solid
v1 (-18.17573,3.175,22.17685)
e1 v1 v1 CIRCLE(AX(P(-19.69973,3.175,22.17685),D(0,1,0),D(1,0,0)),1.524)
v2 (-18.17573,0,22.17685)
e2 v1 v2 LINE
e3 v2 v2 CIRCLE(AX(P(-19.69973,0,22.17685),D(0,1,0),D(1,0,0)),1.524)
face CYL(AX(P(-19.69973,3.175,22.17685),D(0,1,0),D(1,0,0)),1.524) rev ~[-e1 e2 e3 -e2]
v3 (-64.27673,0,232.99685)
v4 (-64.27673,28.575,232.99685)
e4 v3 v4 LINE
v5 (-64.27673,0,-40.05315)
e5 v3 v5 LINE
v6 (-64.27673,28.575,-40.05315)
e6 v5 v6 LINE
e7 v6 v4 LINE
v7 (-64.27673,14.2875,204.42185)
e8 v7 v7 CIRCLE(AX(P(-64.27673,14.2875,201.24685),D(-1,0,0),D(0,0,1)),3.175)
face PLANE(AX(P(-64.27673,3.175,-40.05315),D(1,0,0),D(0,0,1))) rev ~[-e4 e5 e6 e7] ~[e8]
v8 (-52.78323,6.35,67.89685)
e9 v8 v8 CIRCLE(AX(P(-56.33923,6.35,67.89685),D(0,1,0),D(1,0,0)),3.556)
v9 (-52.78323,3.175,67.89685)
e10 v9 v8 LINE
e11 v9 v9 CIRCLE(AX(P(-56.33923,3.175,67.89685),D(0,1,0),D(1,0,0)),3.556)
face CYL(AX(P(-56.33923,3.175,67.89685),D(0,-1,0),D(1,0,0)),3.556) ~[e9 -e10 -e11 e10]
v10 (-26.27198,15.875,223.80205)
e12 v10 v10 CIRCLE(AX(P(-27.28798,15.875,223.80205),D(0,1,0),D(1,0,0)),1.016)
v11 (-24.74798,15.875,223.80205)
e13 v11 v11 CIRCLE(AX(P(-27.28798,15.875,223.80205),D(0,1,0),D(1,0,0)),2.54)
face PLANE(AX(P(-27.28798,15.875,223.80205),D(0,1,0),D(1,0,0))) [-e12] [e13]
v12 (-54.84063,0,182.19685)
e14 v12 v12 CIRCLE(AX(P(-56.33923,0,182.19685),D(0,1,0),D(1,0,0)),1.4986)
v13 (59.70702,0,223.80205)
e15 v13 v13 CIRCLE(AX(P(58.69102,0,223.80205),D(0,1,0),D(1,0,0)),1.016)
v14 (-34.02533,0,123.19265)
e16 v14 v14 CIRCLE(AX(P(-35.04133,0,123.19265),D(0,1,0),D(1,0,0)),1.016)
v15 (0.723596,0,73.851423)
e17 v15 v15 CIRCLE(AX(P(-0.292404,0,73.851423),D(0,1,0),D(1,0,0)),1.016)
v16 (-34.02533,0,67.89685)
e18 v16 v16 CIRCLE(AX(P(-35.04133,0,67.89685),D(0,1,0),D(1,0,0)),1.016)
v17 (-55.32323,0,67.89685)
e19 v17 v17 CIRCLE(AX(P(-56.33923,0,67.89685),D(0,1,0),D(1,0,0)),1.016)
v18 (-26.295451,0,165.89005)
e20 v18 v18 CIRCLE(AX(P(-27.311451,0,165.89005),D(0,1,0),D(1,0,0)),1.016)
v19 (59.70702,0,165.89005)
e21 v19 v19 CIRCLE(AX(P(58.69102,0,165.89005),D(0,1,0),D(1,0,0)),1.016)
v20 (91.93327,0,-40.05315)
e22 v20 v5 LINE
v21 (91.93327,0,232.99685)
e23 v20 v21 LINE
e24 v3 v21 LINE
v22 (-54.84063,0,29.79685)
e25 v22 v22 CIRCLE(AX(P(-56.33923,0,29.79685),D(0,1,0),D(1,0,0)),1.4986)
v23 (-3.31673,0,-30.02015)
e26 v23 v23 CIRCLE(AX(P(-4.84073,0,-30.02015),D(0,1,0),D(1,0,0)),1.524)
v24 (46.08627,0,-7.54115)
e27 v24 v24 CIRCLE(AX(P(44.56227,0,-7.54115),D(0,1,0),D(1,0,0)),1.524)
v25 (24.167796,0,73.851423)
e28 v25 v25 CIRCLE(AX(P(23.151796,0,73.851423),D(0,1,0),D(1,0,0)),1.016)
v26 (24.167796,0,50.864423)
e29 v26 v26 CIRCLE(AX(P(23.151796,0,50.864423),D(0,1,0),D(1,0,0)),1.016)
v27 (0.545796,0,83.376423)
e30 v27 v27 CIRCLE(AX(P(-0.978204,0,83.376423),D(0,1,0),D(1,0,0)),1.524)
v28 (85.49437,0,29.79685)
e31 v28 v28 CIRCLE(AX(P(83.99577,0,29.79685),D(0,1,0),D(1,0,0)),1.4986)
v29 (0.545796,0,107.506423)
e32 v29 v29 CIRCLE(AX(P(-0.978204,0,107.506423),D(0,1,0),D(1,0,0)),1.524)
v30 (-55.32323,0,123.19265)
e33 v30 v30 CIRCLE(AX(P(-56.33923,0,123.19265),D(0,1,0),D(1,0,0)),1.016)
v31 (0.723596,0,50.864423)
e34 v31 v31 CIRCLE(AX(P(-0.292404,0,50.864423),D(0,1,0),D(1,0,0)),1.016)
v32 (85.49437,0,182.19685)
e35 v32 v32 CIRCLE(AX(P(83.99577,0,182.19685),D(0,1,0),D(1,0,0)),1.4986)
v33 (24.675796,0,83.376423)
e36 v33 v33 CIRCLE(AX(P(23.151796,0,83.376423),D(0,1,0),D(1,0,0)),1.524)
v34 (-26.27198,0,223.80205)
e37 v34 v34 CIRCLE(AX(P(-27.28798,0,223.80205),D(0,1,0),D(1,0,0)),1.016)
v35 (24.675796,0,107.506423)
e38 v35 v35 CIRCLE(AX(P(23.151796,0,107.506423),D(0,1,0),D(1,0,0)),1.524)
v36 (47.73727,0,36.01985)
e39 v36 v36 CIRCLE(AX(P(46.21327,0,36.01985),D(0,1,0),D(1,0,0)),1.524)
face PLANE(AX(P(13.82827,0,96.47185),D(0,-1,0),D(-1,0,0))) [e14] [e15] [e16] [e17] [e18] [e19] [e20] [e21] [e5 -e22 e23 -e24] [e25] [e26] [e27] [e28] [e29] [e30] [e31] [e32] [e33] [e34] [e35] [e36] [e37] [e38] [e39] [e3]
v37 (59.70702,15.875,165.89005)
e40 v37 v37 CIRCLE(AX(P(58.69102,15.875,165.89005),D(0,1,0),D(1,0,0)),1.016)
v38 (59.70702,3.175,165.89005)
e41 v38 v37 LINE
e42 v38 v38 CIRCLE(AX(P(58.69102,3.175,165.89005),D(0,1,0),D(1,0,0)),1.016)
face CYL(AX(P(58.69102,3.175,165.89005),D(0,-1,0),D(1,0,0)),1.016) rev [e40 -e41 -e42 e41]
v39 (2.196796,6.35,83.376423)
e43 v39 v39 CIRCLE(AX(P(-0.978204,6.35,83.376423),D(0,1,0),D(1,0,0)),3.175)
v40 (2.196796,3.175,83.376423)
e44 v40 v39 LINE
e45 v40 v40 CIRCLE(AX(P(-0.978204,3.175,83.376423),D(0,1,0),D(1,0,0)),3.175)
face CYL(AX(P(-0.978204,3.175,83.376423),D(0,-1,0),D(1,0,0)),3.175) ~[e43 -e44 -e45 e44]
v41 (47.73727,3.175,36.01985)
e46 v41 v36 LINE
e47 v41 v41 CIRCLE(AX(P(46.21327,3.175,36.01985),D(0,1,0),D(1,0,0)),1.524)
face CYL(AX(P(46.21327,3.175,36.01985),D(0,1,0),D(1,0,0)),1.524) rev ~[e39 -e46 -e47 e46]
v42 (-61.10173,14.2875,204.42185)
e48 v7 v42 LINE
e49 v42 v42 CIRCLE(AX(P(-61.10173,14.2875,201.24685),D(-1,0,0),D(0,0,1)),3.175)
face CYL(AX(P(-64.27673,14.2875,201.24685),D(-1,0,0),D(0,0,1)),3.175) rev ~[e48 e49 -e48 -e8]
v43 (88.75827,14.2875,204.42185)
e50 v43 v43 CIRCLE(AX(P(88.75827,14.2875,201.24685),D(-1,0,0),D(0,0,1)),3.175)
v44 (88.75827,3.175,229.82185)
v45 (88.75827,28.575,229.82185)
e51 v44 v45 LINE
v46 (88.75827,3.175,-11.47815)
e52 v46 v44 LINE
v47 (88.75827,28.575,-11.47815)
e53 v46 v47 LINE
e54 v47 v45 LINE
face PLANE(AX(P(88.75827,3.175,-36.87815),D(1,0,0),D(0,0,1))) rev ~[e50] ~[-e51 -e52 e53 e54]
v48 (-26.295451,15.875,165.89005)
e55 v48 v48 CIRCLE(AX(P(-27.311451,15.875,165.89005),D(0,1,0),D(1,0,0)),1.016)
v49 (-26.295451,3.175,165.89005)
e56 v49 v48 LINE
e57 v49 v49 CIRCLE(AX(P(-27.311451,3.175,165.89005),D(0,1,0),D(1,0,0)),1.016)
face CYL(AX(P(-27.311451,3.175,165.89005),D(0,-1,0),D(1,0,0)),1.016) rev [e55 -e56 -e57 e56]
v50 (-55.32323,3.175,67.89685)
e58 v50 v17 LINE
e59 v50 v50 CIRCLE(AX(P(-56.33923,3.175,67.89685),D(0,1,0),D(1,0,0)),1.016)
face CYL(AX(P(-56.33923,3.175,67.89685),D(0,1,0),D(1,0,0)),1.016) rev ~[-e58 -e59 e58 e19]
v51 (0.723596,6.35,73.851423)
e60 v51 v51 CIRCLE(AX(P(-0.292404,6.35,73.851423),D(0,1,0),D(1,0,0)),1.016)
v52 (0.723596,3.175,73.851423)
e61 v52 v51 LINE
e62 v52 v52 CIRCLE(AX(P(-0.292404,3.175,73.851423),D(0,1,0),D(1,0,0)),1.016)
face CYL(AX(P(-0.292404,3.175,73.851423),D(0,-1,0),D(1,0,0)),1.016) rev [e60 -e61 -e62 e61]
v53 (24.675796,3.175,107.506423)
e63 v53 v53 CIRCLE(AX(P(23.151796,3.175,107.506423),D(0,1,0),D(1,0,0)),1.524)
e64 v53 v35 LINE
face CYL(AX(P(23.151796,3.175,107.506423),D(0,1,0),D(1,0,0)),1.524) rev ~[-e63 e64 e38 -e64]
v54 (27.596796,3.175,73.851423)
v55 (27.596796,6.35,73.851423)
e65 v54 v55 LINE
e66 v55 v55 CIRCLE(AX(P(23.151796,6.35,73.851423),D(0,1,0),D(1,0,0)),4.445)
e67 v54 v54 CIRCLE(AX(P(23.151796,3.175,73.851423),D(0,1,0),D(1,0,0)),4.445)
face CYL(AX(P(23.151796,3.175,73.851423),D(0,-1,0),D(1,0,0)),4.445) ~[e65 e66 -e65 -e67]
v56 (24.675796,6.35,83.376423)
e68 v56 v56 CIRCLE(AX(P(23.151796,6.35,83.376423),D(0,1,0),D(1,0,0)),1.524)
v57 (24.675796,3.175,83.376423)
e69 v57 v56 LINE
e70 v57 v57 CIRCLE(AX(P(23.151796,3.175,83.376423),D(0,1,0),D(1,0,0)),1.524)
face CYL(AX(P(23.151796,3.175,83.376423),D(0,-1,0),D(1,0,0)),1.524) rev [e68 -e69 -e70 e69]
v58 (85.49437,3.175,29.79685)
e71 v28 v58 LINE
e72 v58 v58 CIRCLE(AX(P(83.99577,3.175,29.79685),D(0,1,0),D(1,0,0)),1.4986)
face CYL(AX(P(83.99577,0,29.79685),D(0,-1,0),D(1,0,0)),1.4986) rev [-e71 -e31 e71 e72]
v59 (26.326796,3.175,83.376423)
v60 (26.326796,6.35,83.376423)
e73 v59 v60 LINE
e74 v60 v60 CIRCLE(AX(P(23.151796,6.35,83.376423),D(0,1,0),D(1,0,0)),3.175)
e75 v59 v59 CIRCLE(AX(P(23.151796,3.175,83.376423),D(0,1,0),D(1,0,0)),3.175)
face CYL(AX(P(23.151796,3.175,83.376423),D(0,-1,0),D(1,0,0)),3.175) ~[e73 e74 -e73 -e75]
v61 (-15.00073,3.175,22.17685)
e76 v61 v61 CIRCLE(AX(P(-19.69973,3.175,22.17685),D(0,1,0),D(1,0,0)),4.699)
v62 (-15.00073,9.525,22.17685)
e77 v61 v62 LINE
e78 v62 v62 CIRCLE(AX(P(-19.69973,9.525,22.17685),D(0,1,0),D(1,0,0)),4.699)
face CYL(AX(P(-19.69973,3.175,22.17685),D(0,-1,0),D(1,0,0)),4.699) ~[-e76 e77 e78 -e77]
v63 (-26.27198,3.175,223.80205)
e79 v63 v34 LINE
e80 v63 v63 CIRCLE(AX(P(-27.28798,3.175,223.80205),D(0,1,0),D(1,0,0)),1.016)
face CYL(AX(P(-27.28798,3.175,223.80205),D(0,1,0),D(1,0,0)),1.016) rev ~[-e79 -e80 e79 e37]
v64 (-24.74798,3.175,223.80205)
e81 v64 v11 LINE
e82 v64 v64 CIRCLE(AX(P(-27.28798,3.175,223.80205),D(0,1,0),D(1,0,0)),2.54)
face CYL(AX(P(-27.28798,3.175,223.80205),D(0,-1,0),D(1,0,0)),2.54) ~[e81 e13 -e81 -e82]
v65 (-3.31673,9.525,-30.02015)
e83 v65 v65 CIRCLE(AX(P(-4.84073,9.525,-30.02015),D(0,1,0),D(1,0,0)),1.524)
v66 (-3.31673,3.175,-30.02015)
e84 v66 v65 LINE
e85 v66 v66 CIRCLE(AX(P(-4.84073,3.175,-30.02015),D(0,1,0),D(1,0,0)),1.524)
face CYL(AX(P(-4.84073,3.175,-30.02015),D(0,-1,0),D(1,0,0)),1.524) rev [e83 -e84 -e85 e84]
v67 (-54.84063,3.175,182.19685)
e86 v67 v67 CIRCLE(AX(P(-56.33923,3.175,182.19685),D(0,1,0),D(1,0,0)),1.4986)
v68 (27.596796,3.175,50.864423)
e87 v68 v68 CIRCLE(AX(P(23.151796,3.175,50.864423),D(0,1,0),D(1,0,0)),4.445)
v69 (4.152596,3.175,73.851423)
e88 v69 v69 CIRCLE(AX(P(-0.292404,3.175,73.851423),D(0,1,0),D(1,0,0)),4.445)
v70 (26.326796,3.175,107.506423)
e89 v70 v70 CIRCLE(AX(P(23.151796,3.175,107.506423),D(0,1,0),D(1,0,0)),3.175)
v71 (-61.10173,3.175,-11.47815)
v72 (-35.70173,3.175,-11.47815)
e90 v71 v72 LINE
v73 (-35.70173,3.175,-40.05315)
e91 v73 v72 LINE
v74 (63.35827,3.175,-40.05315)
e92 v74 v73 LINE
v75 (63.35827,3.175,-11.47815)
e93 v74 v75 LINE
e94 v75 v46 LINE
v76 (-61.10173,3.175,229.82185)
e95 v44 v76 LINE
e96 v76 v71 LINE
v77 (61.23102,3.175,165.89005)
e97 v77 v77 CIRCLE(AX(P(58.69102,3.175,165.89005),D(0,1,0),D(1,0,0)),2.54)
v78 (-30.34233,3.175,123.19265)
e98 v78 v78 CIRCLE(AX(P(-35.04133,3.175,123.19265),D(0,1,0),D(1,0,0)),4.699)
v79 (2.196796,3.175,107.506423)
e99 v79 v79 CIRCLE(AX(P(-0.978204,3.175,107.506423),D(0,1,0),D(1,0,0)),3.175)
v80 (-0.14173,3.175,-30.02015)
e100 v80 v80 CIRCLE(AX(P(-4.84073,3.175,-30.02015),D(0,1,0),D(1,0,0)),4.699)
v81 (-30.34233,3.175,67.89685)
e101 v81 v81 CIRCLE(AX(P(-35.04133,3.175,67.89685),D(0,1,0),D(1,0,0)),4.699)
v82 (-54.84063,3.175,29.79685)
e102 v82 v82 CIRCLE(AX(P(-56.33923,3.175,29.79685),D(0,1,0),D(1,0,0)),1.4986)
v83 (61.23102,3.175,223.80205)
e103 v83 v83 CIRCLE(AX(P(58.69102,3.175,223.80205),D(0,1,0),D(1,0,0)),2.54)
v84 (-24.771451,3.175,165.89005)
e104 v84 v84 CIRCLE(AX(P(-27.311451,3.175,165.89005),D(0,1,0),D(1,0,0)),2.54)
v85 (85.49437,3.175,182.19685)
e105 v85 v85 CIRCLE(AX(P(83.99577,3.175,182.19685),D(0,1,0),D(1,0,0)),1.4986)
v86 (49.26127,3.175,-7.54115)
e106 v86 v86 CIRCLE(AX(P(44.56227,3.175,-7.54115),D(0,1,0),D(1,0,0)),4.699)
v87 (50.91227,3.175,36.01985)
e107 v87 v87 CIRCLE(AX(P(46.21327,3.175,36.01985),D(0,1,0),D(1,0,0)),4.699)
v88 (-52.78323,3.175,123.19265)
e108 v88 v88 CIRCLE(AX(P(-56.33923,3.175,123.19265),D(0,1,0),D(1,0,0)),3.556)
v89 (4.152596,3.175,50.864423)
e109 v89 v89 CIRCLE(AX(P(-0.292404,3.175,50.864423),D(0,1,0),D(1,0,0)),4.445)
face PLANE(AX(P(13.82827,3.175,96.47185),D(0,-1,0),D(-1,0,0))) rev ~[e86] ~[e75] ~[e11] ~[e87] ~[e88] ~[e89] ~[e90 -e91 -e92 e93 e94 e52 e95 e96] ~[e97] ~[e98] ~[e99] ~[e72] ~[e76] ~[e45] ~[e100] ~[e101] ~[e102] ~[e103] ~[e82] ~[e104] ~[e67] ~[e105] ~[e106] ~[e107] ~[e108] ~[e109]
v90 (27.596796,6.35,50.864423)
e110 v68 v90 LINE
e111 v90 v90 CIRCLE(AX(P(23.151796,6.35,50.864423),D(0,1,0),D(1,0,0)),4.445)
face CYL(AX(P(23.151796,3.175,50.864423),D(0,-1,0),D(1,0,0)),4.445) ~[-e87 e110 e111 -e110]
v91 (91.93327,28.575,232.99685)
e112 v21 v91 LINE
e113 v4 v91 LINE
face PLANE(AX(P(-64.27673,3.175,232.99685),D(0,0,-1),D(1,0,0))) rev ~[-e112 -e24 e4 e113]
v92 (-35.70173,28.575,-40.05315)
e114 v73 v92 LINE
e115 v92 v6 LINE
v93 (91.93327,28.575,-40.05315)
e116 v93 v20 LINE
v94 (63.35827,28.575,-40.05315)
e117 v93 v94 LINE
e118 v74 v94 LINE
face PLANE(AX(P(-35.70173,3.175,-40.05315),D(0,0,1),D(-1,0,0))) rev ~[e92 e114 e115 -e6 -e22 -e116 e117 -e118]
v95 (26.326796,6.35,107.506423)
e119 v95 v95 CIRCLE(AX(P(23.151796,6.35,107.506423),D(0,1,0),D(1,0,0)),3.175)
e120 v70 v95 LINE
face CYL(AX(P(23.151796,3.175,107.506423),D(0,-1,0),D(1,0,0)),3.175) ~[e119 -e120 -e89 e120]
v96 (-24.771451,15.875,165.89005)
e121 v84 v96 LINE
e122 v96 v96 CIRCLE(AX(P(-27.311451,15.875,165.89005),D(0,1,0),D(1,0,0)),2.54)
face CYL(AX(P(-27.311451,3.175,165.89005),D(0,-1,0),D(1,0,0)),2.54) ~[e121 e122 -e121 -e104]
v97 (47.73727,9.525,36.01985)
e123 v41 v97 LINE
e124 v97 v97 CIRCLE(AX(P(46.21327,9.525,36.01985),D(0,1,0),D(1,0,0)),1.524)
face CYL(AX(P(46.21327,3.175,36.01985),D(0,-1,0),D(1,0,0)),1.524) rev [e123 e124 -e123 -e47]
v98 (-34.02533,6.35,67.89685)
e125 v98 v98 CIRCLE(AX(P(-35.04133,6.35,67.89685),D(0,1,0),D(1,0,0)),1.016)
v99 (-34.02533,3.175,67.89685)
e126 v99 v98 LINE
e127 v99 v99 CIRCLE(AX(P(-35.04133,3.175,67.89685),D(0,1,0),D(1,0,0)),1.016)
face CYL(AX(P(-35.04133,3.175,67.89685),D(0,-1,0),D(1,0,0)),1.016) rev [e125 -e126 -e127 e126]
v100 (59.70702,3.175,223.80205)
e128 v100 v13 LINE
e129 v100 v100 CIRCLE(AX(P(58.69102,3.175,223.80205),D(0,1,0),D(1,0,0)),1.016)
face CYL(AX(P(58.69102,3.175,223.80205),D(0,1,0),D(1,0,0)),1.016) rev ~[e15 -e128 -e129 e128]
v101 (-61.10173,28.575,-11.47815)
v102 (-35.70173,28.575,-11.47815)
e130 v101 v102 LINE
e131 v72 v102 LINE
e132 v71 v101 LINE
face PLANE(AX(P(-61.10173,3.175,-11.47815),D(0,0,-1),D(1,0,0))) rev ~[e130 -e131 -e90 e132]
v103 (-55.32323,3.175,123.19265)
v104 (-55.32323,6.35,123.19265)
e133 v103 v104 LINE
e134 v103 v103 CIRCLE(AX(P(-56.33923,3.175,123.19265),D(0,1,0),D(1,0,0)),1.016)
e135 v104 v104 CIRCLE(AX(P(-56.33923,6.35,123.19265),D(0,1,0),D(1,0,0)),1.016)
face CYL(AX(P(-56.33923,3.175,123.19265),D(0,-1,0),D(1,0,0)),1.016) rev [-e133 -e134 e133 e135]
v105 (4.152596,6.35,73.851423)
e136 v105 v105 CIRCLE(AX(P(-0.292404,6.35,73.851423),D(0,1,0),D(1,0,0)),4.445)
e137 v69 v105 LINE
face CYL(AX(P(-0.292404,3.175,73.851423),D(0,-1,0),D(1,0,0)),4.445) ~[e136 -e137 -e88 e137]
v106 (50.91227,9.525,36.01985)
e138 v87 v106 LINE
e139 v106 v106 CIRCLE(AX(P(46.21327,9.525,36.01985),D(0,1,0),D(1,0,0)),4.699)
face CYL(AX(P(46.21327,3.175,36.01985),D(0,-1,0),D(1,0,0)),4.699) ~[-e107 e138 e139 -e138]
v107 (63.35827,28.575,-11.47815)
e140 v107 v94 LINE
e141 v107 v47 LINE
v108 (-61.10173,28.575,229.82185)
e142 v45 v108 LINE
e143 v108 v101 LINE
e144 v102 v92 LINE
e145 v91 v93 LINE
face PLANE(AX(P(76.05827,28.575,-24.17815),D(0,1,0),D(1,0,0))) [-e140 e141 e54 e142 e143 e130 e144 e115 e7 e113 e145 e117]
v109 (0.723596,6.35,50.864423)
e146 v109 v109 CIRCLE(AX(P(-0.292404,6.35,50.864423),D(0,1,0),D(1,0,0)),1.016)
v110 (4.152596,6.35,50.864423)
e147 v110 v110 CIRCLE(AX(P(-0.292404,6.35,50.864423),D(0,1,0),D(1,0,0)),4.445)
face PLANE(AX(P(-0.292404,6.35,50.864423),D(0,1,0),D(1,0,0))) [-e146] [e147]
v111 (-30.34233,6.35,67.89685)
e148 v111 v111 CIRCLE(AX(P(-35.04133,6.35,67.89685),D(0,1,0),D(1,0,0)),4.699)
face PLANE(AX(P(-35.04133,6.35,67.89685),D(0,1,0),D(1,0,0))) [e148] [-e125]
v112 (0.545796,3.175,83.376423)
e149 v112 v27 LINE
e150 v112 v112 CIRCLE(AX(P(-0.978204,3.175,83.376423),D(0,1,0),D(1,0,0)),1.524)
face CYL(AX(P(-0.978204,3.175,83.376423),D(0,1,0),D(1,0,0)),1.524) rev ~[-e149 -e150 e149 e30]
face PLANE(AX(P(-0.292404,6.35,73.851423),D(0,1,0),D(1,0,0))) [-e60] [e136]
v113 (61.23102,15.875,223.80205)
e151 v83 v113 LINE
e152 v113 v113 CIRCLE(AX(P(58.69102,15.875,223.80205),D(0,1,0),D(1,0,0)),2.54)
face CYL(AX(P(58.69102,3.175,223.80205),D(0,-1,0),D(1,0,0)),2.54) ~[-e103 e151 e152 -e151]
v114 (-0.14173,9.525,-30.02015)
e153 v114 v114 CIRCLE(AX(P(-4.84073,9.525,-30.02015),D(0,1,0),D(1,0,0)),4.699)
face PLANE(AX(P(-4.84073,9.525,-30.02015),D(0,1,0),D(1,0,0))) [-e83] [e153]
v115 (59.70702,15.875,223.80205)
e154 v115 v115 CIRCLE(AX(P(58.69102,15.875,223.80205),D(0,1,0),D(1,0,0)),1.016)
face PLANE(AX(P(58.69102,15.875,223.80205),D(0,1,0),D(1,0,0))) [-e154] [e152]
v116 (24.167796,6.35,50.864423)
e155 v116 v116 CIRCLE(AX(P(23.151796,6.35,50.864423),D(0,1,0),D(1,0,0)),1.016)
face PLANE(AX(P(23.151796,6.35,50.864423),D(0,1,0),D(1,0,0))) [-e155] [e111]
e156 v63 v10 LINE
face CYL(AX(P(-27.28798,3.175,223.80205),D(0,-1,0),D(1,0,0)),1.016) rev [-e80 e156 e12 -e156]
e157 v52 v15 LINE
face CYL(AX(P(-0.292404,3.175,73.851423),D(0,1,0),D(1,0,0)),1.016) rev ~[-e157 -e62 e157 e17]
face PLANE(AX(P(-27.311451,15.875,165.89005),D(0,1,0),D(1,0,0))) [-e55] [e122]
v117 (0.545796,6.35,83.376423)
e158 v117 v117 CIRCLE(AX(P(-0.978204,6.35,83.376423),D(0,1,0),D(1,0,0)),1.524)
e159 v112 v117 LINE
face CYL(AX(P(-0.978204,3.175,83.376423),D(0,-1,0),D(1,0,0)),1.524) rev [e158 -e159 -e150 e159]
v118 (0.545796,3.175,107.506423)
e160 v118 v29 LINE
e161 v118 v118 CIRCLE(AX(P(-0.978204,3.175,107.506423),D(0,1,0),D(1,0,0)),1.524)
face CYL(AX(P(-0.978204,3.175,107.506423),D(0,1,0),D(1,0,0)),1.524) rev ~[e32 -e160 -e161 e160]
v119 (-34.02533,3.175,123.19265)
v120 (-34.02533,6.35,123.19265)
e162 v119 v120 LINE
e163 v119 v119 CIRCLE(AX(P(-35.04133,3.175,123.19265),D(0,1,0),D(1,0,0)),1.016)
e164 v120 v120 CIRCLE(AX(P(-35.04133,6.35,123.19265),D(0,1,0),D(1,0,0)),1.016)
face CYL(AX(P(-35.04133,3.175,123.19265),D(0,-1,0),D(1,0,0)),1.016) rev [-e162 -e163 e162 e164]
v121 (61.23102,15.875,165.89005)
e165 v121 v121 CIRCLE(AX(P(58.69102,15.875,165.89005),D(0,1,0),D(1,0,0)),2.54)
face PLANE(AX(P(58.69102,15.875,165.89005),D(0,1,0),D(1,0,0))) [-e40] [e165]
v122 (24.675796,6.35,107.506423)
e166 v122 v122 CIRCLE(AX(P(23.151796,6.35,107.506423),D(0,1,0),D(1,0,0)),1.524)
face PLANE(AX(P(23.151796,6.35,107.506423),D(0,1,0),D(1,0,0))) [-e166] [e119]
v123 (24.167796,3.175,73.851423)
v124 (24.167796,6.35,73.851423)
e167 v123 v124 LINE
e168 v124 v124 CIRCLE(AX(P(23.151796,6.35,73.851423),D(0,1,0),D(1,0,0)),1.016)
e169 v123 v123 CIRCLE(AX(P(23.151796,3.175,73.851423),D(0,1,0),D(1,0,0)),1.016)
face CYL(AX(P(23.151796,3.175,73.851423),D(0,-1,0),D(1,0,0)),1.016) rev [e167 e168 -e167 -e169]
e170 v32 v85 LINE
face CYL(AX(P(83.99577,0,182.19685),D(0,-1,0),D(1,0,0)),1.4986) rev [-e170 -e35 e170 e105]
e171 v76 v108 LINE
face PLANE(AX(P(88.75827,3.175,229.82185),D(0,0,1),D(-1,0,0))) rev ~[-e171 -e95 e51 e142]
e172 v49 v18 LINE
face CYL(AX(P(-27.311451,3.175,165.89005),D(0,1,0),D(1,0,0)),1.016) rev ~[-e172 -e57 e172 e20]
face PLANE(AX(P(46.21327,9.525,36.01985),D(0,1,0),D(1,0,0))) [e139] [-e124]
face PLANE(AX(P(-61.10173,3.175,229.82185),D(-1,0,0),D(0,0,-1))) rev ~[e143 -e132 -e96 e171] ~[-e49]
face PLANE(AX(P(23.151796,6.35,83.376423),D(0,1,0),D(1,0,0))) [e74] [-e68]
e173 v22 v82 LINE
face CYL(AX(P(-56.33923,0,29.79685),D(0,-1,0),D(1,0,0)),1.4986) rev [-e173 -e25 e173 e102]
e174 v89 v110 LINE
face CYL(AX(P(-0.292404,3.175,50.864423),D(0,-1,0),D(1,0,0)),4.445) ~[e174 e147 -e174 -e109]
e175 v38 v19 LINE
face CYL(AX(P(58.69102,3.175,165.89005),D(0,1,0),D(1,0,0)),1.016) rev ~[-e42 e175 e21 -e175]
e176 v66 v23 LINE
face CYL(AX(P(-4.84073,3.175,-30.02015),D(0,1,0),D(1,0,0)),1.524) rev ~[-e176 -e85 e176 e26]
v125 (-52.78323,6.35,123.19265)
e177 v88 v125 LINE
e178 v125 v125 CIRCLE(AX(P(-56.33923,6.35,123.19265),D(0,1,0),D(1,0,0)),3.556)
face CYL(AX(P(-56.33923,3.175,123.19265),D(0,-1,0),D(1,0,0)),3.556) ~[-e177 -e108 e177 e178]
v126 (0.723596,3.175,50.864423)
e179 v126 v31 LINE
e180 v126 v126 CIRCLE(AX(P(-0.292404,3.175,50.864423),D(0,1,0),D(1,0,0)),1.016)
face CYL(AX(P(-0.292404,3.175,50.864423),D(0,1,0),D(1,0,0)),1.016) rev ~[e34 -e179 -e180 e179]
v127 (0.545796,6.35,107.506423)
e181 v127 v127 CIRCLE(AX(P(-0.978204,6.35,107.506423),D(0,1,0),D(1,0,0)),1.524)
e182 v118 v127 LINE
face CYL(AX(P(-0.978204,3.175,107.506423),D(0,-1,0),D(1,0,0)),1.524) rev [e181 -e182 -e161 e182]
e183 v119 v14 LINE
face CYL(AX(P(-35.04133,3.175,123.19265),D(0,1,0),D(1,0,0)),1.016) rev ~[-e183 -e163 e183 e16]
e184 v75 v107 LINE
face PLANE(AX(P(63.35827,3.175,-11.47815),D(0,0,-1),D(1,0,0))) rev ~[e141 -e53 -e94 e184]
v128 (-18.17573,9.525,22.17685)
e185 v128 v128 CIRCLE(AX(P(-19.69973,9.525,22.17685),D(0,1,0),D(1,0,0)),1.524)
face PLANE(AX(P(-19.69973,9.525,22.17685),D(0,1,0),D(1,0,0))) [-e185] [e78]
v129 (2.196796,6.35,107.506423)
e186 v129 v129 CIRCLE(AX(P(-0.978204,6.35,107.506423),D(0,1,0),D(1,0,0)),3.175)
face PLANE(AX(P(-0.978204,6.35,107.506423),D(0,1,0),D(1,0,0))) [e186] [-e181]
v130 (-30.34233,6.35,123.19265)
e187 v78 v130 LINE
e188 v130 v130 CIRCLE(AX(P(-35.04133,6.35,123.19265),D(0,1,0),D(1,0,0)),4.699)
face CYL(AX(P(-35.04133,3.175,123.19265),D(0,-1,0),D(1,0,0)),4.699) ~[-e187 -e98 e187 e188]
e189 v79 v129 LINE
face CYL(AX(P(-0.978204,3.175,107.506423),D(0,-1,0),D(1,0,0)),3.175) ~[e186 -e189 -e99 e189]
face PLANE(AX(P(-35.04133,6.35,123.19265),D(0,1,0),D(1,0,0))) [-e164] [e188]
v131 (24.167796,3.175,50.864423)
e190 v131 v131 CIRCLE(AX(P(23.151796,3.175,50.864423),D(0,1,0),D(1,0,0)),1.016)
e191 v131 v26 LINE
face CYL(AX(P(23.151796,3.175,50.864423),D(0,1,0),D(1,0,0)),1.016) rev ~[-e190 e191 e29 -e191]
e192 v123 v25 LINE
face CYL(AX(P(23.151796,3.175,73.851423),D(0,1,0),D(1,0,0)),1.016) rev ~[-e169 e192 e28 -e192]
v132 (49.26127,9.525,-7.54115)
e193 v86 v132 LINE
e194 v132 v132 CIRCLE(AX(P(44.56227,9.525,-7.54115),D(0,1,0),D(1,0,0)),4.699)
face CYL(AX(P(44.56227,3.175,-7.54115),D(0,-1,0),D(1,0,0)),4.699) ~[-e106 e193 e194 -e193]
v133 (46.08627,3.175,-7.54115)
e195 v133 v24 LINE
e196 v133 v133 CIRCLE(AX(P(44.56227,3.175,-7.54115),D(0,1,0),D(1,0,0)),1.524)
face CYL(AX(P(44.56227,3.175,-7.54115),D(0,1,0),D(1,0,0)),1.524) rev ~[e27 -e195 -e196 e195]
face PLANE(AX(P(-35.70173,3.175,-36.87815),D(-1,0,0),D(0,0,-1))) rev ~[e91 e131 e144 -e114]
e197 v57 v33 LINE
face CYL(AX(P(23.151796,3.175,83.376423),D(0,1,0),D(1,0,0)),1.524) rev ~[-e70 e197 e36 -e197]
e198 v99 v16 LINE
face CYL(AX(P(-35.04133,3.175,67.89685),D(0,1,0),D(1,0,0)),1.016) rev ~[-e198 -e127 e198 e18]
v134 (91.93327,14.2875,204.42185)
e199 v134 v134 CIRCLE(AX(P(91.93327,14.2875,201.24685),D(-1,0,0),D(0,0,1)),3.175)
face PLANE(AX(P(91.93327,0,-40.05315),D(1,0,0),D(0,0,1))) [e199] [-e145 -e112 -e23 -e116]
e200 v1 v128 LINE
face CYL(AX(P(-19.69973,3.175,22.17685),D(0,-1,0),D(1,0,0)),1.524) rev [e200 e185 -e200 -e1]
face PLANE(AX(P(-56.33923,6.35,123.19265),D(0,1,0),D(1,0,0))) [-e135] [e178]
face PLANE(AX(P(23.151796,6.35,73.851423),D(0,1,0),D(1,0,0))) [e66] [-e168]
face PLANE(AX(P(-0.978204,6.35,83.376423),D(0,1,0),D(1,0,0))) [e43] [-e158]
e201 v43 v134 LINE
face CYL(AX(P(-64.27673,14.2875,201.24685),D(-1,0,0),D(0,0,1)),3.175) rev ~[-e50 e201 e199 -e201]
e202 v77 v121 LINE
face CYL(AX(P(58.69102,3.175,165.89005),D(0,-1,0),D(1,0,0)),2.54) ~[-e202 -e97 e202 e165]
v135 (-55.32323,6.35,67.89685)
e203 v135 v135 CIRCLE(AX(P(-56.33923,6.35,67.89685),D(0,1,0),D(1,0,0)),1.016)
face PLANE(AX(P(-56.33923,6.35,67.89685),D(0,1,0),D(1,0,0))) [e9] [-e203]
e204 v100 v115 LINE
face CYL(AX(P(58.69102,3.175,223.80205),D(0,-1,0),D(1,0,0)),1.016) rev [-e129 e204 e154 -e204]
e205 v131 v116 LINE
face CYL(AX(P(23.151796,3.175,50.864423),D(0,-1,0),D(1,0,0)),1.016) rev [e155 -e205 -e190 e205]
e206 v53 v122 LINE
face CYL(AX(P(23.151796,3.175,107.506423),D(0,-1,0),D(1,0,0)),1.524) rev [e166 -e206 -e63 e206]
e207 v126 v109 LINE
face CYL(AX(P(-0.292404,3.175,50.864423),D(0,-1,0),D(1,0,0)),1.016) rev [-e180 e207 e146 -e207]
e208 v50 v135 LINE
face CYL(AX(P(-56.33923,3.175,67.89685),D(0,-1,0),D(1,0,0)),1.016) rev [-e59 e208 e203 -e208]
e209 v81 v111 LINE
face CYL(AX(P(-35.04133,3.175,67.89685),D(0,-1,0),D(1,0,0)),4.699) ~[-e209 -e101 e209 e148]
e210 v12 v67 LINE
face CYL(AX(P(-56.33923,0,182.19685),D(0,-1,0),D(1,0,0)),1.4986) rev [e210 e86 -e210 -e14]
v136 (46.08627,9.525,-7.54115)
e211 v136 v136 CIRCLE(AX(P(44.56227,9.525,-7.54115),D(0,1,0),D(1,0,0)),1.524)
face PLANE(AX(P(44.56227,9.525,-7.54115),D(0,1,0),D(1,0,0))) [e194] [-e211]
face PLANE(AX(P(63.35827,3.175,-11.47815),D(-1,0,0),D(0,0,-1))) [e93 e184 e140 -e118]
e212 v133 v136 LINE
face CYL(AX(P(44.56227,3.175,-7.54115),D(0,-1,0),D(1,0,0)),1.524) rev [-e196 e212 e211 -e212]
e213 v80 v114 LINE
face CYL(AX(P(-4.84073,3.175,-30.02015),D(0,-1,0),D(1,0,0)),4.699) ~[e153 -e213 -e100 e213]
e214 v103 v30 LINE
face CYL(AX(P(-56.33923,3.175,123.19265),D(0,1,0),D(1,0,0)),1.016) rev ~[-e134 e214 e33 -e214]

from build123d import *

# Parameters (mm, degrees)
SKETCH2_R           = 1.4986
BOSS_EXTRUDE3_DEPTH = 3.175
BOSS_EXTRUDE4_DEPTH = 25.4
SKETCH8_R           = 4.699
SKETCH8_R_2         = 1.524
BOSS_EXTRUDE5_DEPTH = 6.35
SKETCH8_3_R         = 1.524
CUT_EXTRUDE1_DEPTH  = 252.762622456
SKETCH10_R          = 3.556
SKETCH10_R_2        = 1.016
SKETCH10_R_3        = 4.699
SKETCH10_R_4        = 4.445
BOSS_EXTRUDE6_DEPTH = 3.175
SKETCH10_2_R        = 1.016
CUT_EXTRUDE2_DEPTH  = 252.762622456
SKETCH11_R          = 2.54
SKETCH11_R_2        = 1.016
BOSS_EXTRUDE7_DEPTH = 12.7
SKETCH11_2_R        = 1.016
CUT_EXTRUDE3_DEPTH  = 252.762622456
SKETCH12_W          = 25.4
SKETCH12_H          = 25.4
BOSS_EXTRUDE8_DEPTH = 25.4
SKETCH13_R          = 3.175
CUT_EXTRUDE4_DEPTH  = 282.967421343
SKETCH14_R          = 3.175
SKETCH14_R_2        = 1.524
BOSS_EXTRUDE9_DEPTH = 3.175
SKETCH16_R          = 1.524
CUT_EXTRUDE5_DEPTH  = 252.762622456


with BuildPart() as part:
    # Sketch2 → Boss-Extrude3 (new body)
    with BuildSketch(Plane(origin=(0, 0, 0), x_dir=(1, 0, 0), z_dir=(0, 1, 0))):
        Polygon((-61.101730223, 40.053150292), (88.758269777, 40.053150292), (91.933269777, 40.053150292), (91.933269777, -232.996849708), (88.758269777, -232.996849708), (-61.101730223, -232.996849708), (-64.276730223, -232.996849708), (-64.276730223, 40.053150292), align=None)
        with Locations((-56.339230223, -182.196849708)):
            Circle(SKETCH2_R, mode=Mode.SUBTRACT)
        with Locations((83.995769777, -182.196849708)):
            Circle(SKETCH2_R, mode=Mode.SUBTRACT)
        with Locations((-56.339230223, -29.796849708)):
            Circle(SKETCH2_R, mode=Mode.SUBTRACT)
        with Locations((83.995769777, -29.796849708)):
            Circle(SKETCH2_R, mode=Mode.SUBTRACT)
    extrude(amount=BOSS_EXTRUDE3_DEPTH)

    # Sketch7 → Boss-Extrude4 (add)
    with BuildSketch(Plane(origin=(0, 3.175, 0), x_dir=(1, 0, 0), z_dir=(0, 1, 0))):
        Polygon((-35.701730223, 40.053150292), (-64.276730223, 40.053150292), (-64.276730223, -232.996849708), (91.933269777, -232.996849708), (91.933269777, 40.053150292), (63.358269777, 40.053150292), (63.358269777, 36.878150292), (88.758269777, 36.878150292), (88.758269777, -229.821849708), (-61.101730223, -229.821849708), (-61.101730223, 36.878150292), (-35.701730223, 36.878150292), align=None)
    extrude(amount=BOSS_EXTRUDE4_DEPTH)

    # Sketch8 → Boss-Extrude5 (add)
    # profile 1 of 4: a face of its own
    with BuildSketch(Plane(origin=(0, 3.175, 0), x_dir=(1, 0, 0), z_dir=(0, 1, 0))):
        with Locations((-4.840730223, 30.020150292)):
            Circle(SKETCH8_R)
        with Locations((-4.840730223, 30.020150292)):
            Circle(SKETCH8_R_2, mode=Mode.SUBTRACT)
    # profile 2 of 4: a face of its own
    with BuildSketch(Plane(origin=(0, 3.175, 0), x_dir=(1, 0, 0), z_dir=(0, 1, 0))):
        with Locations((-19.699730223, -22.176849708)):
            Circle(SKETCH8_R)
        with Locations((-19.699730223, -22.176849708)):
            Circle(SKETCH8_R_2, mode=Mode.SUBTRACT)
    # profile 3 of 4: a face of its own
    with BuildSketch(Plane(origin=(0, 3.175, 0), x_dir=(1, 0, 0), z_dir=(0, 1, 0))):
        with Locations((44.562269777, 7.541150292)):
            Circle(SKETCH8_R)
        with Locations((44.562269777, 7.541150292)):
            Circle(SKETCH8_R_2, mode=Mode.SUBTRACT)
    # profile 4 of 4: a face of its own
    with BuildSketch(Plane(origin=(0, 3.175, 0), x_dir=(1, 0, 0), z_dir=(0, 1, 0))):
        with Locations((46.213269777, -36.019849708)):
            Circle(SKETCH8_R)
        with Locations((46.213269777, -36.019849708)):
            Circle(SKETCH8_R_2, mode=Mode.SUBTRACT)
    extrude(amount=BOSS_EXTRUDE5_DEPTH)

    # Sketch8<3> → Cut-Extrude1 (cut, through all)
    with BuildSketch(Plane(origin=(0, 3.175, 0), x_dir=(1, 0, 0), z_dir=(0, 1, 0))):
        with Locations((-4.840730223, 30.020150292)):
            Circle(SKETCH8_3_R)
        with Locations((-19.699730223, -22.176849708)):
            Circle(SKETCH8_3_R)
        with Locations((44.562269777, 7.541150292)):
            Circle(SKETCH8_3_R)
        with Locations((46.213269777, -36.019849708)):
            Circle(SKETCH8_3_R)
    extrude(amount=-CUT_EXTRUDE1_DEPTH, mode=Mode.SUBTRACT)

    # Sketch10 → Boss-Extrude6 (add)
    # profile 1 of 8: a face of its own
    with BuildSketch(Plane(origin=(0, 3.175, 0), x_dir=(1, 0, 0), z_dir=(0, 1, 0))):
        with Locations((-56.339230223, -67.896849708)):
            Circle(SKETCH10_R)
        with Locations((-56.339230223, -67.896849708)):
            Circle(SKETCH10_R_2, mode=Mode.SUBTRACT)
    # profile 2 of 8: a face of its own
    with BuildSketch(Plane(origin=(0, 3.175, 0), x_dir=(1, 0, 0), z_dir=(0, 1, 0))):
        with Locations((-35.041330223, -67.896849708)):
            Circle(SKETCH10_R_3)
        with Locations((-35.041330223, -67.896849708)):
            Circle(SKETCH10_R_2, mode=Mode.SUBTRACT)
    # profile 3 of 8: a face of its own
    with BuildSketch(Plane(origin=(0, 3.175, 0), x_dir=(1, 0, 0), z_dir=(0, 1, 0))):
        with Locations((-56.339230223, -123.192649708)):
            Circle(SKETCH10_R)
        with Locations((-56.339230223, -123.192649708)):
            Circle(SKETCH10_R_2, mode=Mode.SUBTRACT)
    # profile 4 of 8: a face of its own
    with BuildSketch(Plane(origin=(0, 3.175, 0), x_dir=(1, 0, 0), z_dir=(0, 1, 0))):
        with Locations((-35.041330223, -123.192649708)):
            Circle(SKETCH10_R_3)
        with Locations((-35.041330223, -123.192649708)):
            Circle(SKETCH10_R_2, mode=Mode.SUBTRACT)
    # profile 5 of 8: a face of its own
    with BuildSketch(Plane(origin=(0, 3.175, 0), x_dir=(1, 0, 0), z_dir=(0, 1, 0))):
        with Locations((-0.292403635, -50.864423121)):
            Circle(SKETCH10_R_4)
        with Locations((-0.292403635, -50.864423121)):
            Circle(SKETCH10_R_2, mode=Mode.SUBTRACT)
    # profile 6 of 8: a face of its own
    with BuildSketch(Plane(origin=(0, 3.175, 0), x_dir=(1, 0, 0), z_dir=(0, 1, 0))):
        with Locations((23.151796365, -50.864423121)):
            Circle(SKETCH10_R_4)
        with Locations((23.151796365, -50.864423121)):
            Circle(SKETCH10_R_2, mode=Mode.SUBTRACT)
    # profile 7 of 8: a face of its own
    with BuildSketch(Plane(origin=(0, 3.175, 0), x_dir=(1, 0, 0), z_dir=(0, 1, 0))):
        with Locations((23.151796365, -73.851423121)):
            Circle(SKETCH10_R_4)
        with Locations((23.151796365, -73.851423121)):
            Circle(SKETCH10_R_2, mode=Mode.SUBTRACT)
    # profile 8 of 8: a face of its own
    with BuildSketch(Plane(origin=(0, 3.175, 0), x_dir=(1, 0, 0), z_dir=(0, 1, 0))):
        with Locations((-0.292403635, -73.851423121)):
            Circle(SKETCH10_R_4)
        with Locations((-0.292403635, -73.851423121)):
            Circle(SKETCH10_R_2, mode=Mode.SUBTRACT)
    extrude(amount=BOSS_EXTRUDE6_DEPTH)

    # Sketch10<2> → Cut-Extrude2 (cut, through all)
    with BuildSketch(Plane(origin=(0, 3.175, 0), x_dir=(1, 0, 0), z_dir=(0, 1, 0))):
        with Locations((-56.339230223, -67.896849708)):
            Circle(SKETCH10_2_R)
        with Locations((-35.041330223, -67.896849708)):
            Circle(SKETCH10_2_R)
        with Locations((-35.041330223, -123.192649708)):
            Circle(SKETCH10_2_R)
        with Locations((-56.339230223, -123.192649708)):
            Circle(SKETCH10_2_R)
        with Locations((-0.292403635, -50.864423121)):
            Circle(SKETCH10_2_R)
        with Locations((23.151796365, -50.864423121)):
            Circle(SKETCH10_2_R)
        with Locations((-0.292403635, -73.851423121)):
            Circle(SKETCH10_2_R)
        with Locations((23.151796365, -73.851423121)):
            Circle(SKETCH10_2_R)
    extrude(amount=-CUT_EXTRUDE2_DEPTH, mode=Mode.SUBTRACT)

    # Sketch11 → Boss-Extrude7 (add)
    # profile 1 of 4: a face of its own
    with BuildSketch(Plane(origin=(0, 3.175, 0), x_dir=(1, 0, 0), z_dir=(0, 1, 0))):
        with Locations((-27.287980223, -223.802049708)):
            Circle(SKETCH11_R)
        with Locations((-27.287980223, -223.802049708)):
            Circle(SKETCH11_R_2, mode=Mode.SUBTRACT)
    # profile 2 of 4: a face of its own
    with BuildSketch(Plane(origin=(0, 3.175, 0), x_dir=(1, 0, 0), z_dir=(0, 1, 0))):
        with Locations((-27.311451073, -165.890049708)):
            Circle(SKETCH11_R)
        with Locations((-27.311451073, -165.890049708)):
            Circle(SKETCH11_R_2, mode=Mode.SUBTRACT)
    # profile 3 of 4: a face of its own
    with BuildSketch(Plane(origin=(0, 3.175, 0), x_dir=(1, 0, 0), z_dir=(0, 1, 0))):
        with Locations((58.691019777, -165.890049708)):
            Circle(SKETCH11_R)
        with Locations((58.691019777, -165.890049708)):
            Circle(SKETCH11_R_2, mode=Mode.SUBTRACT)
    # profile 4 of 4: a face of its own
    with BuildSketch(Plane(origin=(0, 3.175, 0), x_dir=(1, 0, 0), z_dir=(0, 1, 0))):
        with Locations((58.691019777, -223.802049708)):
            Circle(SKETCH11_R)
        with Locations((58.691019777, -223.802049708)):
            Circle(SKETCH11_R_2, mode=Mode.SUBTRACT)
    extrude(amount=BOSS_EXTRUDE7_DEPTH)

    # Sketch11<2> → Cut-Extrude3 (cut, through all)
    with BuildSketch(Plane(origin=(0, 3.175, 0), x_dir=(1, 0, 0), z_dir=(0, 1, 0))):
        with Locations((-27.287980223, -223.802049708)):
            Circle(SKETCH11_2_R)
        with Locations((-27.311451073, -165.890049708)):
            Circle(SKETCH11_2_R)
        with Locations((58.691019777, -165.890049708)):
            Circle(SKETCH11_2_R)
        with Locations((58.691019777, -223.802049708)):
            Circle(SKETCH11_2_R)
    extrude(amount=-CUT_EXTRUDE3_DEPTH, mode=Mode.SUBTRACT)

    # Sketch12 → Boss-Extrude8 (add)
    with BuildSketch(Plane(origin=(0, 3.175, 0), x_dir=(1, 0, 0), z_dir=(0, 1, 0))):
        with Locations((76.058269777, 24.178150292)):
            Rectangle(SKETCH12_W, SKETCH12_H)
        with Locations((-48.401730223, 24.178150292)):
            Rectangle(SKETCH12_W, SKETCH12_H)
    extrude(amount=BOSS_EXTRUDE8_DEPTH)

    # Sketch13 → Cut-Extrude4 (cut, through all)
    with BuildSketch(Plane.ZY.offset(64.276730223)):
        with Locations((201.246849708, 14.2875)):
            Circle(SKETCH13_R)
    extrude(amount=-CUT_EXTRUDE4_DEPTH, mode=Mode.SUBTRACT)

    # Sketch14 → Boss-Extrude9 (add)
    # profile 1 of 4: a face of its own
    with BuildSketch(Plane(origin=(0, 3.175, 0), x_dir=(1, 0, 0), z_dir=(0, 1, 0))):
        with Locations((-0.978203635, -83.376423121)):
            Circle(SKETCH14_R)
        with Locations((-0.978203635, -83.376423121)):
            Circle(SKETCH14_R_2, mode=Mode.SUBTRACT)
    # profile 2 of 4: a face of its own
    with BuildSketch(Plane(origin=(0, 3.175, 0), x_dir=(1, 0, 0), z_dir=(0, 1, 0))):
        with Locations((-0.978203635, -107.506423121)):
            Circle(SKETCH14_R)
        with Locations((-0.978203635, -107.506423121)):
            Circle(SKETCH14_R_2, mode=Mode.SUBTRACT)
    # profile 3 of 4: a face of its own
    with BuildSketch(Plane(origin=(0, 3.175, 0), x_dir=(1, 0, 0), z_dir=(0, 1, 0))):
        with Locations((23.151796365, -83.376423121)):
            Circle(SKETCH14_R)
        with Locations((23.151796365, -83.376423121)):
            Circle(SKETCH14_R_2, mode=Mode.SUBTRACT)
    # profile 4 of 4: a face of its own
    with BuildSketch(Plane(origin=(0, 3.175, 0), x_dir=(1, 0, 0), z_dir=(0, 1, 0))):
        with Locations((23.151796365, -107.506423121)):
            Circle(SKETCH14_R)
        with Locations((23.151796365, -107.506423121)):
            Circle(SKETCH14_R_2, mode=Mode.SUBTRACT)
    extrude(amount=BOSS_EXTRUDE9_DEPTH)

    # Sketch16 → Cut-Extrude5 (cut, through all)
    with BuildSketch(Plane(origin=(0, 3.175, 0), x_dir=(1, 0, 0), z_dir=(0, 1, 0))):
        with Locations((-0.978203635, -83.376423121)):
            Circle(SKETCH16_R)
        with Locations((23.151796365, -83.376423121)):
            Circle(SKETCH16_R)
        with Locations((23.151796365, -107.506423121)):
            Circle(SKETCH16_R)
        with Locations((-0.978203635, -107.506423121)):
            Circle(SKETCH16_R)
    extrude(amount=-CUT_EXTRUDE5_DEPTH, mode=Mode.SUBTRACT)


solid = part.part
